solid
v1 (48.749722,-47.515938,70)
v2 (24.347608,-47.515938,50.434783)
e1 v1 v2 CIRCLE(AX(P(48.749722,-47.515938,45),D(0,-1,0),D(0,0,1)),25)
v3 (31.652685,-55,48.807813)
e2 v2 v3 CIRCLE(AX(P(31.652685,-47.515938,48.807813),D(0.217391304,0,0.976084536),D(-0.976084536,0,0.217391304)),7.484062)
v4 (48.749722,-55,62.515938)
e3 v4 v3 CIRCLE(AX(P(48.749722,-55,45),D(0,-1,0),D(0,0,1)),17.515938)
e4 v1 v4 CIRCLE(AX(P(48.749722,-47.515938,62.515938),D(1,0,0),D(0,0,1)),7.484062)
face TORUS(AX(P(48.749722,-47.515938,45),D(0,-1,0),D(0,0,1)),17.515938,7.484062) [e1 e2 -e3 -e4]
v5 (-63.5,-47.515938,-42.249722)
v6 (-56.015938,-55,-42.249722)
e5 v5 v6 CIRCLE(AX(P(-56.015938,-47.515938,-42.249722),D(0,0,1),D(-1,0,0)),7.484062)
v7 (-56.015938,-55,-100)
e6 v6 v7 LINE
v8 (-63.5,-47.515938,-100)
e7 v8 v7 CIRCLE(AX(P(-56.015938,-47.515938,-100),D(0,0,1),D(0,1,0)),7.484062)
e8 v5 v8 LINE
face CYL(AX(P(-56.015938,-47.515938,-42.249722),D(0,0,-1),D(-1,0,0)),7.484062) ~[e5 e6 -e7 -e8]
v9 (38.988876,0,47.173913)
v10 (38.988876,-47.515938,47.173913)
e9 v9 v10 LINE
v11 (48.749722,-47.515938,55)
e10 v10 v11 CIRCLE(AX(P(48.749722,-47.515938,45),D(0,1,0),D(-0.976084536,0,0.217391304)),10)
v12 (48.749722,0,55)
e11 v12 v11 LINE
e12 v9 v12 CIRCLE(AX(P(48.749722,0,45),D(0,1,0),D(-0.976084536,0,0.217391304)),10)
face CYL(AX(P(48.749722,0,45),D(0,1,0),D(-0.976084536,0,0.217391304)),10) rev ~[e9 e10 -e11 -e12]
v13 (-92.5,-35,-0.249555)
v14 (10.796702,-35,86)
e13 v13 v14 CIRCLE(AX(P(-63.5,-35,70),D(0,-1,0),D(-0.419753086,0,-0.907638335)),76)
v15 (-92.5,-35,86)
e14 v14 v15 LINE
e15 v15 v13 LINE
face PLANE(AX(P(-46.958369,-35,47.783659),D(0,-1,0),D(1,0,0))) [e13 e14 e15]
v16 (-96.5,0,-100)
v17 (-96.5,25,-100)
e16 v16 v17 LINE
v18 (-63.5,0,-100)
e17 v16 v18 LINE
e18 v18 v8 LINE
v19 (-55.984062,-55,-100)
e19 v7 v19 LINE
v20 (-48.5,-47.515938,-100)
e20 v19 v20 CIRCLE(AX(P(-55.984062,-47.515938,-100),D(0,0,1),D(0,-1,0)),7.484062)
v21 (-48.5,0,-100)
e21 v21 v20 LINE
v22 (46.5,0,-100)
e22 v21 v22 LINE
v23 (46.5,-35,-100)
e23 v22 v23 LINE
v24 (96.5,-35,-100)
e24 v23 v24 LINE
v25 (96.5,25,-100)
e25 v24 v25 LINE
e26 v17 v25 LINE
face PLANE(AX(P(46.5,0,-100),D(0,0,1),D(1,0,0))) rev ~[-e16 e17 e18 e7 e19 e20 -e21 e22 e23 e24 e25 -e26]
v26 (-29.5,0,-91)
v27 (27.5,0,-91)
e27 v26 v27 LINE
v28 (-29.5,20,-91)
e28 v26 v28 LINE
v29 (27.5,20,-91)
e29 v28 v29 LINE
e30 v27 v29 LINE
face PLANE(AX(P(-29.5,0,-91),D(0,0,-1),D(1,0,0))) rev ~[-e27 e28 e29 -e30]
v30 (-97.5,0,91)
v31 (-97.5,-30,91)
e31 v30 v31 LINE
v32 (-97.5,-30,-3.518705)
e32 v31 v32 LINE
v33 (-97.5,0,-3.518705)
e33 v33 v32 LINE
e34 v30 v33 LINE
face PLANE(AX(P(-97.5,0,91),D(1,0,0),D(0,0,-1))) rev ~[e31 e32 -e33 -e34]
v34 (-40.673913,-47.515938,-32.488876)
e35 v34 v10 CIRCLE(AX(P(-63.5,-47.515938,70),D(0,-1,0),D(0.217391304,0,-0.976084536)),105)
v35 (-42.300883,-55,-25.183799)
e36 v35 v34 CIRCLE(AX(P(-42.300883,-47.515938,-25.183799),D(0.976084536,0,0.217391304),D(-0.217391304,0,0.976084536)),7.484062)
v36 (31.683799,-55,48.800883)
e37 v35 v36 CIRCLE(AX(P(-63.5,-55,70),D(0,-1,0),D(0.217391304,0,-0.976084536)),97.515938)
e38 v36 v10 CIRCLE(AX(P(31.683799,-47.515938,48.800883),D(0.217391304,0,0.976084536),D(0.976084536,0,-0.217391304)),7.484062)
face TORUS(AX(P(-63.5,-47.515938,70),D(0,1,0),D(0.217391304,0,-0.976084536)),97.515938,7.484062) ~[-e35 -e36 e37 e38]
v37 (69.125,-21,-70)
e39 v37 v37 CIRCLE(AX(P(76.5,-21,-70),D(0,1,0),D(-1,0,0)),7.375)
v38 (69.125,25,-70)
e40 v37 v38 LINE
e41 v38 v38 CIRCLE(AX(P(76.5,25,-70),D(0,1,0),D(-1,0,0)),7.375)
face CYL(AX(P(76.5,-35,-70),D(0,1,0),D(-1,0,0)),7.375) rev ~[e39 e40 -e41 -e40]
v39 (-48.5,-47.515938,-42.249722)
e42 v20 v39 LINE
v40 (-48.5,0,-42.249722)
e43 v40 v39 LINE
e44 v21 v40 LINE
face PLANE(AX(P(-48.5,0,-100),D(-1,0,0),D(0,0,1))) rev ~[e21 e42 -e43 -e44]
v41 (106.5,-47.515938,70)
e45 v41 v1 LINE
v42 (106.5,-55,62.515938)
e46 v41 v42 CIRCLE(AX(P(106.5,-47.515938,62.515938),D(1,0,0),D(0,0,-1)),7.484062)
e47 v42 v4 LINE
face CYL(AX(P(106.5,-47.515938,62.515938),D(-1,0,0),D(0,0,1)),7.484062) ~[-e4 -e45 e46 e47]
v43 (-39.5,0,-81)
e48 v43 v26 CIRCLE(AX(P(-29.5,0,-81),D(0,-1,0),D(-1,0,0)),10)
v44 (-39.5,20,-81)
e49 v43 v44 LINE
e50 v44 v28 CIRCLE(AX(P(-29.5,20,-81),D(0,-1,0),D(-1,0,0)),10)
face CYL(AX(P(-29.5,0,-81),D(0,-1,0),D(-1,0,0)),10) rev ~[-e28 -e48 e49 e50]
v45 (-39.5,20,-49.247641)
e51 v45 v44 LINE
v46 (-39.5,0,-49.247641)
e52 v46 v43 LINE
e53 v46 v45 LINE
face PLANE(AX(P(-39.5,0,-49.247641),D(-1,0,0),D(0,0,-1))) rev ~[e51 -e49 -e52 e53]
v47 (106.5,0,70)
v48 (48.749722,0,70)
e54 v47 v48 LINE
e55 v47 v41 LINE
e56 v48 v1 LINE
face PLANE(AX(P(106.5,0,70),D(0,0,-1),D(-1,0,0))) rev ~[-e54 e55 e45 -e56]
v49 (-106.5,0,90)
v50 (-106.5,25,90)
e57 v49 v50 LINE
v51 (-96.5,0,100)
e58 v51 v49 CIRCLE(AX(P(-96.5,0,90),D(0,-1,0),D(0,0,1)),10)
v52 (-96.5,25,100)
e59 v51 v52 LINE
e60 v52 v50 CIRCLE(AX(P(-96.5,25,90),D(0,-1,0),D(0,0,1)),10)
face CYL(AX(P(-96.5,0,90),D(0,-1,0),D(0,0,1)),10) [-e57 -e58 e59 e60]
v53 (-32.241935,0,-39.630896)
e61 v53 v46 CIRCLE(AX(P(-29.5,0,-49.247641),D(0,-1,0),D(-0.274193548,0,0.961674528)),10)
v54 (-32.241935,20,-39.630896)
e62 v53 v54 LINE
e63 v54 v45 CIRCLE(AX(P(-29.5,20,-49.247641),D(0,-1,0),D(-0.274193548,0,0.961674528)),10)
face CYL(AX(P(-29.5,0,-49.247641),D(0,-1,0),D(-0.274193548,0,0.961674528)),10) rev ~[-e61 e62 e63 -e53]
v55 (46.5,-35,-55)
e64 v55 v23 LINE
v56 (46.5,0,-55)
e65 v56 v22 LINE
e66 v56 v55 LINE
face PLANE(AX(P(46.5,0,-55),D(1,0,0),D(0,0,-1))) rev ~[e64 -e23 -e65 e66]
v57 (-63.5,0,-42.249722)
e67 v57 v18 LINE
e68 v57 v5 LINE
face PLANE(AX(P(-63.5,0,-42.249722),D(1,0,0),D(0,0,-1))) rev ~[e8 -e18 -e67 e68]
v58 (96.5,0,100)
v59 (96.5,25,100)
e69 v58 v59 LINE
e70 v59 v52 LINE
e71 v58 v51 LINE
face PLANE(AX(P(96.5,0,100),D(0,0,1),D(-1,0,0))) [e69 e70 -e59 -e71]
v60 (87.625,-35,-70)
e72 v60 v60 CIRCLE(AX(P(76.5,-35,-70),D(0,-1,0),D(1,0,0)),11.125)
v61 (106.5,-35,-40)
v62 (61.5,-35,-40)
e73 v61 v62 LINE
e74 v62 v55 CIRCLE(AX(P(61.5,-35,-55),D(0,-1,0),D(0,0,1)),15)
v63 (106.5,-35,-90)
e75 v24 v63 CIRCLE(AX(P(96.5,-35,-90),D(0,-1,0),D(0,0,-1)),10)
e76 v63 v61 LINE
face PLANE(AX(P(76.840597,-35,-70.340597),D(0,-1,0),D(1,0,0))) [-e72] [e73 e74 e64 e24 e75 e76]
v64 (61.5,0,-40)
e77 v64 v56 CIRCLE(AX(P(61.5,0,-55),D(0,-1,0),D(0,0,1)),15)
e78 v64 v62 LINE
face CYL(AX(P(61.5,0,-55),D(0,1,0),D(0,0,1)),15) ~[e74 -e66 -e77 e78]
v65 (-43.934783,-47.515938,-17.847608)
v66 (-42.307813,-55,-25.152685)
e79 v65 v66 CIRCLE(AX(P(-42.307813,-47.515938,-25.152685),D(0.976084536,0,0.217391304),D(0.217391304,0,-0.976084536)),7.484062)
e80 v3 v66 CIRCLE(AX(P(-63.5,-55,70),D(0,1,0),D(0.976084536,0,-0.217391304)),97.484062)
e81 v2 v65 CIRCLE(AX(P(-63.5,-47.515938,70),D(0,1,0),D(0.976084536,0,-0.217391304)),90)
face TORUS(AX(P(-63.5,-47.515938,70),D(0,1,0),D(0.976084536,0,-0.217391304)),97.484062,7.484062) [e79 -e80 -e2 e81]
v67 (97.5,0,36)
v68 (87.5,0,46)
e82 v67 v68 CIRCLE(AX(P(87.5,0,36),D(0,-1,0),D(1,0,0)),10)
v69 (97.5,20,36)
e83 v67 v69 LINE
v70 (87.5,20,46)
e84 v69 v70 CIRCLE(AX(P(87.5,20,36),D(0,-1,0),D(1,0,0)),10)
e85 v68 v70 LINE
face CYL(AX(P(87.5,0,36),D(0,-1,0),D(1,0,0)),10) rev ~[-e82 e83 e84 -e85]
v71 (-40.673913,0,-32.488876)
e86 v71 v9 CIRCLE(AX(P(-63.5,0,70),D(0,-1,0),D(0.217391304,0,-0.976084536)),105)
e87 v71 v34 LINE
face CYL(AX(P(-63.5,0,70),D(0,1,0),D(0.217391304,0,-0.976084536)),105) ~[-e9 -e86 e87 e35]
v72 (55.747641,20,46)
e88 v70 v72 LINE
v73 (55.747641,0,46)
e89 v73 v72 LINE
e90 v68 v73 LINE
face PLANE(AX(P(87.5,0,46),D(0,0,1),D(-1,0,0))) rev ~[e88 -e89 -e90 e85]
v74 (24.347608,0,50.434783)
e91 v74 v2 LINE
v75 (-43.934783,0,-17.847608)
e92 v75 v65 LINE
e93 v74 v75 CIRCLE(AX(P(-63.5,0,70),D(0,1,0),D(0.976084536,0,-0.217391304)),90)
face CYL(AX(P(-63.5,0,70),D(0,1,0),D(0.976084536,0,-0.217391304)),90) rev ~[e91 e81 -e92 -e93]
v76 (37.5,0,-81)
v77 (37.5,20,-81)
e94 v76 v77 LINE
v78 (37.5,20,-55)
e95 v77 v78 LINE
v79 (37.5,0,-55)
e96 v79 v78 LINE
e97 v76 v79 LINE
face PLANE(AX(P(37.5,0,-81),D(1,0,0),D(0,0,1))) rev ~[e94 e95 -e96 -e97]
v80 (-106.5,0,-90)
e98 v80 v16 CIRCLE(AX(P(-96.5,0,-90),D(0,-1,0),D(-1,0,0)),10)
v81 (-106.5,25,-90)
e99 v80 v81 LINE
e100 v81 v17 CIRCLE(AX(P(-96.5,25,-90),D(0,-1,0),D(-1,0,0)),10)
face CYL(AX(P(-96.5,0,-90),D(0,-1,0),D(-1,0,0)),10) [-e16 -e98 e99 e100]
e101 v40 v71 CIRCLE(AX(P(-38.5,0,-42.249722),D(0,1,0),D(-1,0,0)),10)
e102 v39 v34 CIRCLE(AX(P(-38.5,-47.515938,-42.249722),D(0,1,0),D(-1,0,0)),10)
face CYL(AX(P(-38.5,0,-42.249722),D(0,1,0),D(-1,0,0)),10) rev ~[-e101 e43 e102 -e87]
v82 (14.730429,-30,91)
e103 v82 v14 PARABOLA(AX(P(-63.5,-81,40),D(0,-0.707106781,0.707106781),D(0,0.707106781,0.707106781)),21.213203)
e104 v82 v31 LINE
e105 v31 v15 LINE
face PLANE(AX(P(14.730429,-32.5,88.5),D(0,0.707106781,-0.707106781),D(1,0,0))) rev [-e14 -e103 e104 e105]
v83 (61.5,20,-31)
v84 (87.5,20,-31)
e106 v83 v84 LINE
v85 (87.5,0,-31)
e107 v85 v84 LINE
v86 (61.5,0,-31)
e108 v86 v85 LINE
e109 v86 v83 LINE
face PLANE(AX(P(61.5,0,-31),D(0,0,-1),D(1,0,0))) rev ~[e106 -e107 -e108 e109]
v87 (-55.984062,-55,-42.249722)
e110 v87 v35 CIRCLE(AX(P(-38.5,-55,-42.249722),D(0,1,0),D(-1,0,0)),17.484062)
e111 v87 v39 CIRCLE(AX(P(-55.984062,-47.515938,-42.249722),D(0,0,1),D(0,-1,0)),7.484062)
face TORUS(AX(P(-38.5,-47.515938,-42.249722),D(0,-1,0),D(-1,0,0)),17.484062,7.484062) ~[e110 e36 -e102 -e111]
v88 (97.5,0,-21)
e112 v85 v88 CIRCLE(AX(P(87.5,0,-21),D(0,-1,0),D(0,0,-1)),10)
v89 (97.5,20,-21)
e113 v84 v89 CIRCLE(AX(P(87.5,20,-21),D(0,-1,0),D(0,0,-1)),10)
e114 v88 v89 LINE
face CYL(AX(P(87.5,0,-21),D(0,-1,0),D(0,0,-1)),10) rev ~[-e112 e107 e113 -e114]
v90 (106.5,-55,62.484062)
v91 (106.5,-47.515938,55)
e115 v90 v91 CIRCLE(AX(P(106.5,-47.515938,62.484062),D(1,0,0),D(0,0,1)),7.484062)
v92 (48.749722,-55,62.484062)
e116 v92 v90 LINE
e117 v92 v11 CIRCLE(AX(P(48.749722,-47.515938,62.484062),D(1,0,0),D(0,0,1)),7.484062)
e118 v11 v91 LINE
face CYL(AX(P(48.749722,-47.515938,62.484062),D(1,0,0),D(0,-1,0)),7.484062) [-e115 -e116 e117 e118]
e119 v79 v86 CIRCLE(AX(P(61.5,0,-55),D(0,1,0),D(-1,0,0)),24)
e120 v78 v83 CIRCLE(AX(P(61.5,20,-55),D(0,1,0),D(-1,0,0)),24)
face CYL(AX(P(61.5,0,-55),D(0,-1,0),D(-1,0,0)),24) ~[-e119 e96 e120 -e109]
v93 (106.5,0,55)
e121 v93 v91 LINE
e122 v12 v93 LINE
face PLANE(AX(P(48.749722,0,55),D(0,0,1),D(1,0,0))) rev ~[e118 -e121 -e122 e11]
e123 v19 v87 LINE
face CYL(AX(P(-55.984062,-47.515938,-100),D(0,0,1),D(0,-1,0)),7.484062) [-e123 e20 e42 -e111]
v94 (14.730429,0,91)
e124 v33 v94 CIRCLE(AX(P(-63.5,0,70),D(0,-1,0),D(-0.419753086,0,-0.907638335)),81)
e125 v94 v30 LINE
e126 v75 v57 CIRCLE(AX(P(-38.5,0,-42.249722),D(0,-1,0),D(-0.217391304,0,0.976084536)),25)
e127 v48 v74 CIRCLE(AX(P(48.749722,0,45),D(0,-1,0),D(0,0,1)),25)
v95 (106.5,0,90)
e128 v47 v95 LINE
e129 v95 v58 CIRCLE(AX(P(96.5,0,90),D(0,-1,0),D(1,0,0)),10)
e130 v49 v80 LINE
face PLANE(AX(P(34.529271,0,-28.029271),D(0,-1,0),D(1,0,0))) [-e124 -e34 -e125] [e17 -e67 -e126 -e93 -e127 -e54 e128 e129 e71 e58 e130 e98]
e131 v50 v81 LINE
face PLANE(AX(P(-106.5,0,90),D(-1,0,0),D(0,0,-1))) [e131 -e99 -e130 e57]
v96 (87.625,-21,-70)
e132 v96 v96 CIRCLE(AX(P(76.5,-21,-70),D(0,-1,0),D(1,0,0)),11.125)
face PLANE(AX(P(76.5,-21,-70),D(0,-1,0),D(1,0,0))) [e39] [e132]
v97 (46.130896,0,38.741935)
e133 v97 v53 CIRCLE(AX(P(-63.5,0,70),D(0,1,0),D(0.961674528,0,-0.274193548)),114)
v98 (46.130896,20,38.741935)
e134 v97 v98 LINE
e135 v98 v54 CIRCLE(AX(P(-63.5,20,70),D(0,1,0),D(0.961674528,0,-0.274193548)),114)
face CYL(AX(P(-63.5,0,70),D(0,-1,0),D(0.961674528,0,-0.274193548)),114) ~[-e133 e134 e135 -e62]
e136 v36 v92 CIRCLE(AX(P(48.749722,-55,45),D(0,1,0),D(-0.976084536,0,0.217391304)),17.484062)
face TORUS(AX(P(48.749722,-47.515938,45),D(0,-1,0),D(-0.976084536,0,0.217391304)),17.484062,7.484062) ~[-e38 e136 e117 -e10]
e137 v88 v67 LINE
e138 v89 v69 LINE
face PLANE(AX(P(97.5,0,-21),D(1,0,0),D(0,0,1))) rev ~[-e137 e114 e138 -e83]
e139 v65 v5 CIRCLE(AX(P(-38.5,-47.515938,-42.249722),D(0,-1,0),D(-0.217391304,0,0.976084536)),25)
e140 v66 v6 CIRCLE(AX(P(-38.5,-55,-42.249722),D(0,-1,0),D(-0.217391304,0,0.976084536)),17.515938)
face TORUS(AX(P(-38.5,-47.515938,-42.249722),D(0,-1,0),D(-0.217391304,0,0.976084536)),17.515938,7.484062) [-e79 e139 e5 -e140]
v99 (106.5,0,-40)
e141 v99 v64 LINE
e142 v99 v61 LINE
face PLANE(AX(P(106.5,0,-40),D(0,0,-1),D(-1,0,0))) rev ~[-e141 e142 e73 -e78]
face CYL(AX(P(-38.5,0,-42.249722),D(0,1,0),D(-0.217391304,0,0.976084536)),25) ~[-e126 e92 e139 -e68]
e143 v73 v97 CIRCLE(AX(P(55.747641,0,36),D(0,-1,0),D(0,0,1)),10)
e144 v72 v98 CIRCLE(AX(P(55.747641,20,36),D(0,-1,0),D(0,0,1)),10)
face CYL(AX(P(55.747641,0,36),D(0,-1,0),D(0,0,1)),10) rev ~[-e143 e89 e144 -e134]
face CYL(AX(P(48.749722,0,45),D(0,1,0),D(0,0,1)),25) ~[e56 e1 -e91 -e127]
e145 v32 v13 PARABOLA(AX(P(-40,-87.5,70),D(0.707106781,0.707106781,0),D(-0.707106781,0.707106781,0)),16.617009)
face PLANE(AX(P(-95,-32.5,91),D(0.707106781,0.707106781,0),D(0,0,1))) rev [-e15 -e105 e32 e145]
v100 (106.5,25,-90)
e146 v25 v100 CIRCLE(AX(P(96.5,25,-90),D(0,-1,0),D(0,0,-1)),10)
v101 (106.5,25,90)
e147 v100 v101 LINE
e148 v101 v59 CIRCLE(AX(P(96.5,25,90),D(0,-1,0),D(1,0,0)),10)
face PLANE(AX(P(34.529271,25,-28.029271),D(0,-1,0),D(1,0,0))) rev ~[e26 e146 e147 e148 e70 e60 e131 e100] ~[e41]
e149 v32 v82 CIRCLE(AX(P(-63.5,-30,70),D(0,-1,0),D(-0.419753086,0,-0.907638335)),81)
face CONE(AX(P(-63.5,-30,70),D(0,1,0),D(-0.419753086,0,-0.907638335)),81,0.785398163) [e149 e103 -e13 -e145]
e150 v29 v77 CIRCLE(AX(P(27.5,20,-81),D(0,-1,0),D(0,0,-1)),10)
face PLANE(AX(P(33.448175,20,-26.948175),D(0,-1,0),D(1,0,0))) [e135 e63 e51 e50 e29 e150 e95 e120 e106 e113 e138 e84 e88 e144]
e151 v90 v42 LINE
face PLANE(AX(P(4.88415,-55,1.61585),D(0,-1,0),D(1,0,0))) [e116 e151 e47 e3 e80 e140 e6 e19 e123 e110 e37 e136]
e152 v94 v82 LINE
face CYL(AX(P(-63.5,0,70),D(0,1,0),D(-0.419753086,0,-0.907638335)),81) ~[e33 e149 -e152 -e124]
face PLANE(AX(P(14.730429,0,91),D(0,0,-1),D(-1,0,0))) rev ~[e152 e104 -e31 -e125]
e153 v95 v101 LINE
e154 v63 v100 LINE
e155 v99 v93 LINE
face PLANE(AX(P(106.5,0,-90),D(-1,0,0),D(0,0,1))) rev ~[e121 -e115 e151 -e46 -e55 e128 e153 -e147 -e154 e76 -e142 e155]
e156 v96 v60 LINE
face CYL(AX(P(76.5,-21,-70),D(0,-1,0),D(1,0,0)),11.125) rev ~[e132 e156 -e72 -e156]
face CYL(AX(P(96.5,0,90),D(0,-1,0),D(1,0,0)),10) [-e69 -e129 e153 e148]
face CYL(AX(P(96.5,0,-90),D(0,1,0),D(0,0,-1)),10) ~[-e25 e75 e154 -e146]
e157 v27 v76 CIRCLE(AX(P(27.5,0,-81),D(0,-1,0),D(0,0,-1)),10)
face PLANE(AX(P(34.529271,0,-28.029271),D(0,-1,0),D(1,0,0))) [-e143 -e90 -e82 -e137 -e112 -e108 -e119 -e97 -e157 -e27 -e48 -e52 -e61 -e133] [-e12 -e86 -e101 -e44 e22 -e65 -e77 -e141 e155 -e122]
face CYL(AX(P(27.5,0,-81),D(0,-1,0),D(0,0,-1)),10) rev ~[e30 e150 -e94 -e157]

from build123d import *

# Parameters (mm, degrees)
F1_DEPTH       = 25
F2_DEPTH       = 35
F3_DEPTH       = 55
F4_DEPTH       = 20
F5_SIZE2       = 5
F5_SIZE        = 5
F7_D           = 14.75
F7_CBORE_D     = 22.25
F7_CBORE_DEPTH = 14
F8_R           = 7.4840620434


with BuildPart() as f1:
    # F0 (on Front) → F1 (new body)
    with BuildSketch(Plane.XZ):
        with BuildLine():
            Line((106.5, -40), (106.5, 55))
            Line((106.5, 55), (48.7497216032, 55))
            ThreePointArc((48.7497216032, 55), (42.4942891815, 52.8018949761), (38.9888762464, 47.1739130435))
            ThreePointArc((38.9888762464, 47.1739130435), (10.7462120246, -4.2462120246), (-40.6739130435, -32.4888762464))
            ThreePointArc((-40.6739130435, -32.4888762464), (-46.3018949761, -35.9942891815), (-48.5, -42.2497216032))
            Line((-48.5, -42.2497216032), (-48.5, -100))
            Line((-48.5, -100), (46.5, -100))
            Line((46.5, -100), (46.5, -55))
            ThreePointArc((46.5, -55), (50.8933982822, -44.3933982822), (61.5, -40))
            Line((61.5, -40), (106.5, -40))
        make_face()
        with BuildLine():
            ThreePointArc((-29.5, -91), (-36.5710678119, -88.0710678119), (-39.5, -81))
            Line((-39.5, -81), (-39.5, -49.2476414861))
            ThreePointArc((-39.5, -49.2476414861), (-37.481834214, -43.2234965193), (-32.2419354839, -39.630896205))
            ThreePointArc((-32.2419354839, -39.630896205), (17.1101730553, -10.6101730553), (46.130896205, 38.7419354839))
            ThreePointArc((46.130896205, 38.7419354839), (49.7234965193, 43.981834214), (55.7476414861, 46))
            Line((55.7476414861, 46), (87.5, 46))
            ThreePointArc((87.5, 46), (94.5710678119, 43.0710678119), (97.5, 36))
            Line((97.5, 36), (97.5, -21))
            ThreePointArc((97.5, -21), (94.5710678119, -28.0710678119), (87.5, -31))
            Line((87.5, -31), (61.5, -31))
            ThreePointArc((61.5, -31), (44.5294372515, -38.0294372515), (37.5, -55))
            Line((37.5, -55), (37.5, -81))
            ThreePointArc((37.5, -81), (34.5710678119, -88.0710678119), (27.5, -91))
            Line((27.5, -91), (-29.5, -91))
        make_face(mode=Mode.SUBTRACT)
        with BuildLine():
            Line((96.5, 100), (-96.5, 100))
            ThreePointArc((-96.5, 100), (-103.5710678119, 97.0710678119), (-106.5, 90))
            Line((-106.5, 90), (-106.5, -90))
            ThreePointArc((-106.5, -90), (-103.5710678119, -97.0710678119), (-96.5, -100))
            Line((-96.5, -100), (-63.5, -100))
            Line((-63.5, -100), (-63.5, -42.2497216032))
            ThreePointArc((-63.5, -42.2497216032), (-58.0047374401, -26.6111405489), (-43.9347826087, -17.8476082112))
            ThreePointArc((-43.9347826087, -17.8476082112), (0.1396103068, 6.3603896932), (24.3476082112, 50.4347826087))
            ThreePointArc((24.3476082112, 50.4347826087), (33.1111405489, 64.5047374401), (48.7497216032, 70))
            Line((48.7497216032, 70), (106.5, 70))
            Line((106.5, 70), (106.5, 90))
            ThreePointArc((106.5, 90), (103.5710678119, 97.0710678119), (96.5, 100))
        make_face()
        with BuildLine():
            ThreePointArc((14.7304288624, 91), (-11.3221396288, 8.044605666), (-97.5, -3.5187051029))
            Line((-97.5, -3.5187051029), (-97.5, 91))
            Line((-97.5, 91), (14.7304288624, 91))
        make_face(mode=Mode.SUBTRACT)
        with BuildLine():
            Line((-97.5, 91), (-97.5, -3.5187051029))
            ThreePointArc((-97.5, -3.5187051029), (-11.3221396288, 8.044605666), (14.7304288624, 91))
            Line((14.7304288624, 91), (-97.5, 91))
        make_face()
        with BuildLine():
            Line((-39.5, -49.2476414861), (-39.5, -81))
            ThreePointArc((-39.5, -81), (-36.5710678119, -88.0710678119), (-29.5, -91))
            Line((-29.5, -91), (27.5, -91))
            ThreePointArc((27.5, -91), (34.5710678119, -88.0710678119), (37.5, -81))
            Line((37.5, -81), (37.5, -55))
            ThreePointArc((37.5, -55), (44.5294372515, -38.0294372515), (61.5, -31))
            Line((61.5, -31), (87.5, -31))
            ThreePointArc((87.5, -31), (94.5710678119, -28.0710678119), (97.5, -21))
            Line((97.5, -21), (97.5, 36))
            ThreePointArc((97.5, 36), (94.5710678119, 43.0710678119), (87.5, 46))
            Line((87.5, 46), (55.7476414861, 46))
            ThreePointArc((55.7476414861, 46), (49.7234965193, 43.981834214), (46.130896205, 38.7419354839))
            ThreePointArc((46.130896205, 38.7419354839), (17.1101730553, -10.6101730553), (-32.2419354839, -39.630896205))
            ThreePointArc((-32.2419354839, -39.630896205), (-37.481834214, -43.2234965193), (-39.5, -49.2476414861))
        make_face()
        with BuildLine():
            Line((106.5, 55), (106.5, 70))
            Line((106.5, 70), (48.7497216032, 70))
            ThreePointArc((48.7497216032, 70), (33.1111405489, 64.5047374401), (24.3476082112, 50.4347826087))
            ThreePointArc((24.3476082112, 50.4347826087), (0.1396103068, 6.3603896932), (-43.9347826087, -17.8476082112))
            ThreePointArc((-43.9347826087, -17.8476082112), (-58.0047374401, -26.6111405489), (-63.5, -42.2497216032))
            Line((-63.5, -42.2497216032), (-63.5, -100))
            Line((-63.5, -100), (-48.5, -100))
            Line((-48.5, -100), (-48.5, -42.2497216032))
            ThreePointArc((-48.5, -42.2497216032), (-46.3018949761, -35.9942891815), (-40.6739130435, -32.4888762464))
            ThreePointArc((-40.6739130435, -32.4888762464), (10.7462120246, -4.2462120246), (38.9888762464, 47.1739130435))
            ThreePointArc((38.9888762464, 47.1739130435), (42.4942891815, 52.8018949761), (48.7497216032, 55))
            Line((48.7497216032, 55), (106.5, 55))
        make_face()
        with BuildLine():
            Line((106.5, -90), (106.5, -40))
            Line((106.5, -40), (61.5, -40))
            ThreePointArc((61.5, -40), (50.8933982822, -44.3933982822), (46.5, -55))
            Line((46.5, -55), (46.5, -100))
            Line((46.5, -100), (96.5, -100))
            ThreePointArc((96.5, -100), (103.5710678119, -97.0710678119), (106.5, -90))
        make_face()
    extrude(amount=-F1_DEPTH)

    # F0 (on Front) → F2 (join)
    with BuildSketch(Plane.XZ):
        with BuildLine():
            Line((-97.5, 91), (-97.5, -3.5187051029))
            ThreePointArc((-97.5, -3.5187051029), (-11.3221396288, 8.044605666), (14.7304288624, 91))
            Line((14.7304288624, 91), (-97.5, 91))
        make_face()
        with BuildLine():
            Line((106.5, -90), (106.5, -40))
            Line((106.5, -40), (61.5, -40))
            ThreePointArc((61.5, -40), (50.8933982822, -44.3933982822), (46.5, -55))
            Line((46.5, -55), (46.5, -100))
            Line((46.5, -100), (96.5, -100))
            ThreePointArc((96.5, -100), (103.5710678119, -97.0710678119), (106.5, -90))
        make_face()
    extrude(amount=F2_DEPTH)

    # F0 (on Front) → F3 (join)
    with BuildSketch(Plane.XZ):
        with BuildLine():
            Line((106.5, 55), (106.5, 70))
            Line((106.5, 70), (48.7497216032, 70))
            ThreePointArc((48.7497216032, 70), (33.1111405489, 64.5047374401), (24.3476082112, 50.4347826087))
            ThreePointArc((24.3476082112, 50.4347826087), (0.1396103068, 6.3603896932), (-43.9347826087, -17.8476082112))
            ThreePointArc((-43.9347826087, -17.8476082112), (-58.0047374401, -26.6111405489), (-63.5, -42.2497216032))
            Line((-63.5, -42.2497216032), (-63.5, -100))
            Line((-63.5, -100), (-48.5, -100))
            Line((-48.5, -100), (-48.5, -42.2497216032))
            ThreePointArc((-48.5, -42.2497216032), (-46.3018949761, -35.9942891815), (-40.6739130435, -32.4888762464))
            ThreePointArc((-40.6739130435, -32.4888762464), (10.7462120246, -4.2462120246), (38.9888762464, 47.1739130435))
            ThreePointArc((38.9888762464, 47.1739130435), (42.4942891815, 52.8018949761), (48.7497216032, 55))
            Line((48.7497216032, 55), (106.5, 55))
        make_face()
    extrude(amount=F3_DEPTH)

    # F0 (on Front) → F4 (cut)
    with BuildSketch(Plane.XZ):
        with BuildLine():
            Line((-39.5, -49.2476414861), (-39.5, -81))
            ThreePointArc((-39.5, -81), (-36.5710678119, -88.0710678119), (-29.5, -91))
            Line((-29.5, -91), (27.5, -91))
            ThreePointArc((27.5, -91), (34.5710678119, -88.0710678119), (37.5, -81))
            Line((37.5, -81), (37.5, -55))
            ThreePointArc((37.5, -55), (44.5294372515, -38.0294372515), (61.5, -31))
            Line((61.5, -31), (87.5, -31))
            ThreePointArc((87.5, -31), (94.5710678119, -28.0710678119), (97.5, -21))
            Line((97.5, -21), (97.5, 36))
            ThreePointArc((97.5, 36), (94.5710678119, 43.0710678119), (87.5, 46))
            Line((87.5, 46), (55.7476414861, 46))
            ThreePointArc((55.7476414861, 46), (49.7234965193, 43.981834214), (46.130896205, 38.7419354839))
            ThreePointArc((46.130896205, 38.7419354839), (17.1101730553, -10.6101730553), (-32.2419354839, -39.630896205))
            ThreePointArc((-32.2419354839, -39.630896205), (-37.481834214, -43.2234965193), (-39.5, -49.2476414861))
        make_face()
    extrude(amount=-F4_DEPTH, mode=Mode.SUBTRACT)

    # F5
    f5_edges = [f1.edges().sort_by_distance(p)[0] for p in [
        (-11.32214, -35, 8.044606),
        (-41.384786, -35, 91),
        (-97.5, -35, 43.740647),
    ]]
    chamfer(f5_edges, length=F5_SIZE, length2=F5_SIZE2)

    # F7 (through all)
    with Locations(Plane.XZ.offset(35)):
        with Locations((76.5, -70)):
            CounterBoreHole(F7_D / 2, F7_CBORE_D / 2, F7_CBORE_DEPTH)

    # F8
    f8_edges = [f1.edges().sort_by_distance(p)[0] for p in [
        (-48.5, -55, -71.124861),
        (-63.5, -55, -71.124861),
    ]]
    fillet(f8_edges, radius=F8_R)


solid = f1.part
